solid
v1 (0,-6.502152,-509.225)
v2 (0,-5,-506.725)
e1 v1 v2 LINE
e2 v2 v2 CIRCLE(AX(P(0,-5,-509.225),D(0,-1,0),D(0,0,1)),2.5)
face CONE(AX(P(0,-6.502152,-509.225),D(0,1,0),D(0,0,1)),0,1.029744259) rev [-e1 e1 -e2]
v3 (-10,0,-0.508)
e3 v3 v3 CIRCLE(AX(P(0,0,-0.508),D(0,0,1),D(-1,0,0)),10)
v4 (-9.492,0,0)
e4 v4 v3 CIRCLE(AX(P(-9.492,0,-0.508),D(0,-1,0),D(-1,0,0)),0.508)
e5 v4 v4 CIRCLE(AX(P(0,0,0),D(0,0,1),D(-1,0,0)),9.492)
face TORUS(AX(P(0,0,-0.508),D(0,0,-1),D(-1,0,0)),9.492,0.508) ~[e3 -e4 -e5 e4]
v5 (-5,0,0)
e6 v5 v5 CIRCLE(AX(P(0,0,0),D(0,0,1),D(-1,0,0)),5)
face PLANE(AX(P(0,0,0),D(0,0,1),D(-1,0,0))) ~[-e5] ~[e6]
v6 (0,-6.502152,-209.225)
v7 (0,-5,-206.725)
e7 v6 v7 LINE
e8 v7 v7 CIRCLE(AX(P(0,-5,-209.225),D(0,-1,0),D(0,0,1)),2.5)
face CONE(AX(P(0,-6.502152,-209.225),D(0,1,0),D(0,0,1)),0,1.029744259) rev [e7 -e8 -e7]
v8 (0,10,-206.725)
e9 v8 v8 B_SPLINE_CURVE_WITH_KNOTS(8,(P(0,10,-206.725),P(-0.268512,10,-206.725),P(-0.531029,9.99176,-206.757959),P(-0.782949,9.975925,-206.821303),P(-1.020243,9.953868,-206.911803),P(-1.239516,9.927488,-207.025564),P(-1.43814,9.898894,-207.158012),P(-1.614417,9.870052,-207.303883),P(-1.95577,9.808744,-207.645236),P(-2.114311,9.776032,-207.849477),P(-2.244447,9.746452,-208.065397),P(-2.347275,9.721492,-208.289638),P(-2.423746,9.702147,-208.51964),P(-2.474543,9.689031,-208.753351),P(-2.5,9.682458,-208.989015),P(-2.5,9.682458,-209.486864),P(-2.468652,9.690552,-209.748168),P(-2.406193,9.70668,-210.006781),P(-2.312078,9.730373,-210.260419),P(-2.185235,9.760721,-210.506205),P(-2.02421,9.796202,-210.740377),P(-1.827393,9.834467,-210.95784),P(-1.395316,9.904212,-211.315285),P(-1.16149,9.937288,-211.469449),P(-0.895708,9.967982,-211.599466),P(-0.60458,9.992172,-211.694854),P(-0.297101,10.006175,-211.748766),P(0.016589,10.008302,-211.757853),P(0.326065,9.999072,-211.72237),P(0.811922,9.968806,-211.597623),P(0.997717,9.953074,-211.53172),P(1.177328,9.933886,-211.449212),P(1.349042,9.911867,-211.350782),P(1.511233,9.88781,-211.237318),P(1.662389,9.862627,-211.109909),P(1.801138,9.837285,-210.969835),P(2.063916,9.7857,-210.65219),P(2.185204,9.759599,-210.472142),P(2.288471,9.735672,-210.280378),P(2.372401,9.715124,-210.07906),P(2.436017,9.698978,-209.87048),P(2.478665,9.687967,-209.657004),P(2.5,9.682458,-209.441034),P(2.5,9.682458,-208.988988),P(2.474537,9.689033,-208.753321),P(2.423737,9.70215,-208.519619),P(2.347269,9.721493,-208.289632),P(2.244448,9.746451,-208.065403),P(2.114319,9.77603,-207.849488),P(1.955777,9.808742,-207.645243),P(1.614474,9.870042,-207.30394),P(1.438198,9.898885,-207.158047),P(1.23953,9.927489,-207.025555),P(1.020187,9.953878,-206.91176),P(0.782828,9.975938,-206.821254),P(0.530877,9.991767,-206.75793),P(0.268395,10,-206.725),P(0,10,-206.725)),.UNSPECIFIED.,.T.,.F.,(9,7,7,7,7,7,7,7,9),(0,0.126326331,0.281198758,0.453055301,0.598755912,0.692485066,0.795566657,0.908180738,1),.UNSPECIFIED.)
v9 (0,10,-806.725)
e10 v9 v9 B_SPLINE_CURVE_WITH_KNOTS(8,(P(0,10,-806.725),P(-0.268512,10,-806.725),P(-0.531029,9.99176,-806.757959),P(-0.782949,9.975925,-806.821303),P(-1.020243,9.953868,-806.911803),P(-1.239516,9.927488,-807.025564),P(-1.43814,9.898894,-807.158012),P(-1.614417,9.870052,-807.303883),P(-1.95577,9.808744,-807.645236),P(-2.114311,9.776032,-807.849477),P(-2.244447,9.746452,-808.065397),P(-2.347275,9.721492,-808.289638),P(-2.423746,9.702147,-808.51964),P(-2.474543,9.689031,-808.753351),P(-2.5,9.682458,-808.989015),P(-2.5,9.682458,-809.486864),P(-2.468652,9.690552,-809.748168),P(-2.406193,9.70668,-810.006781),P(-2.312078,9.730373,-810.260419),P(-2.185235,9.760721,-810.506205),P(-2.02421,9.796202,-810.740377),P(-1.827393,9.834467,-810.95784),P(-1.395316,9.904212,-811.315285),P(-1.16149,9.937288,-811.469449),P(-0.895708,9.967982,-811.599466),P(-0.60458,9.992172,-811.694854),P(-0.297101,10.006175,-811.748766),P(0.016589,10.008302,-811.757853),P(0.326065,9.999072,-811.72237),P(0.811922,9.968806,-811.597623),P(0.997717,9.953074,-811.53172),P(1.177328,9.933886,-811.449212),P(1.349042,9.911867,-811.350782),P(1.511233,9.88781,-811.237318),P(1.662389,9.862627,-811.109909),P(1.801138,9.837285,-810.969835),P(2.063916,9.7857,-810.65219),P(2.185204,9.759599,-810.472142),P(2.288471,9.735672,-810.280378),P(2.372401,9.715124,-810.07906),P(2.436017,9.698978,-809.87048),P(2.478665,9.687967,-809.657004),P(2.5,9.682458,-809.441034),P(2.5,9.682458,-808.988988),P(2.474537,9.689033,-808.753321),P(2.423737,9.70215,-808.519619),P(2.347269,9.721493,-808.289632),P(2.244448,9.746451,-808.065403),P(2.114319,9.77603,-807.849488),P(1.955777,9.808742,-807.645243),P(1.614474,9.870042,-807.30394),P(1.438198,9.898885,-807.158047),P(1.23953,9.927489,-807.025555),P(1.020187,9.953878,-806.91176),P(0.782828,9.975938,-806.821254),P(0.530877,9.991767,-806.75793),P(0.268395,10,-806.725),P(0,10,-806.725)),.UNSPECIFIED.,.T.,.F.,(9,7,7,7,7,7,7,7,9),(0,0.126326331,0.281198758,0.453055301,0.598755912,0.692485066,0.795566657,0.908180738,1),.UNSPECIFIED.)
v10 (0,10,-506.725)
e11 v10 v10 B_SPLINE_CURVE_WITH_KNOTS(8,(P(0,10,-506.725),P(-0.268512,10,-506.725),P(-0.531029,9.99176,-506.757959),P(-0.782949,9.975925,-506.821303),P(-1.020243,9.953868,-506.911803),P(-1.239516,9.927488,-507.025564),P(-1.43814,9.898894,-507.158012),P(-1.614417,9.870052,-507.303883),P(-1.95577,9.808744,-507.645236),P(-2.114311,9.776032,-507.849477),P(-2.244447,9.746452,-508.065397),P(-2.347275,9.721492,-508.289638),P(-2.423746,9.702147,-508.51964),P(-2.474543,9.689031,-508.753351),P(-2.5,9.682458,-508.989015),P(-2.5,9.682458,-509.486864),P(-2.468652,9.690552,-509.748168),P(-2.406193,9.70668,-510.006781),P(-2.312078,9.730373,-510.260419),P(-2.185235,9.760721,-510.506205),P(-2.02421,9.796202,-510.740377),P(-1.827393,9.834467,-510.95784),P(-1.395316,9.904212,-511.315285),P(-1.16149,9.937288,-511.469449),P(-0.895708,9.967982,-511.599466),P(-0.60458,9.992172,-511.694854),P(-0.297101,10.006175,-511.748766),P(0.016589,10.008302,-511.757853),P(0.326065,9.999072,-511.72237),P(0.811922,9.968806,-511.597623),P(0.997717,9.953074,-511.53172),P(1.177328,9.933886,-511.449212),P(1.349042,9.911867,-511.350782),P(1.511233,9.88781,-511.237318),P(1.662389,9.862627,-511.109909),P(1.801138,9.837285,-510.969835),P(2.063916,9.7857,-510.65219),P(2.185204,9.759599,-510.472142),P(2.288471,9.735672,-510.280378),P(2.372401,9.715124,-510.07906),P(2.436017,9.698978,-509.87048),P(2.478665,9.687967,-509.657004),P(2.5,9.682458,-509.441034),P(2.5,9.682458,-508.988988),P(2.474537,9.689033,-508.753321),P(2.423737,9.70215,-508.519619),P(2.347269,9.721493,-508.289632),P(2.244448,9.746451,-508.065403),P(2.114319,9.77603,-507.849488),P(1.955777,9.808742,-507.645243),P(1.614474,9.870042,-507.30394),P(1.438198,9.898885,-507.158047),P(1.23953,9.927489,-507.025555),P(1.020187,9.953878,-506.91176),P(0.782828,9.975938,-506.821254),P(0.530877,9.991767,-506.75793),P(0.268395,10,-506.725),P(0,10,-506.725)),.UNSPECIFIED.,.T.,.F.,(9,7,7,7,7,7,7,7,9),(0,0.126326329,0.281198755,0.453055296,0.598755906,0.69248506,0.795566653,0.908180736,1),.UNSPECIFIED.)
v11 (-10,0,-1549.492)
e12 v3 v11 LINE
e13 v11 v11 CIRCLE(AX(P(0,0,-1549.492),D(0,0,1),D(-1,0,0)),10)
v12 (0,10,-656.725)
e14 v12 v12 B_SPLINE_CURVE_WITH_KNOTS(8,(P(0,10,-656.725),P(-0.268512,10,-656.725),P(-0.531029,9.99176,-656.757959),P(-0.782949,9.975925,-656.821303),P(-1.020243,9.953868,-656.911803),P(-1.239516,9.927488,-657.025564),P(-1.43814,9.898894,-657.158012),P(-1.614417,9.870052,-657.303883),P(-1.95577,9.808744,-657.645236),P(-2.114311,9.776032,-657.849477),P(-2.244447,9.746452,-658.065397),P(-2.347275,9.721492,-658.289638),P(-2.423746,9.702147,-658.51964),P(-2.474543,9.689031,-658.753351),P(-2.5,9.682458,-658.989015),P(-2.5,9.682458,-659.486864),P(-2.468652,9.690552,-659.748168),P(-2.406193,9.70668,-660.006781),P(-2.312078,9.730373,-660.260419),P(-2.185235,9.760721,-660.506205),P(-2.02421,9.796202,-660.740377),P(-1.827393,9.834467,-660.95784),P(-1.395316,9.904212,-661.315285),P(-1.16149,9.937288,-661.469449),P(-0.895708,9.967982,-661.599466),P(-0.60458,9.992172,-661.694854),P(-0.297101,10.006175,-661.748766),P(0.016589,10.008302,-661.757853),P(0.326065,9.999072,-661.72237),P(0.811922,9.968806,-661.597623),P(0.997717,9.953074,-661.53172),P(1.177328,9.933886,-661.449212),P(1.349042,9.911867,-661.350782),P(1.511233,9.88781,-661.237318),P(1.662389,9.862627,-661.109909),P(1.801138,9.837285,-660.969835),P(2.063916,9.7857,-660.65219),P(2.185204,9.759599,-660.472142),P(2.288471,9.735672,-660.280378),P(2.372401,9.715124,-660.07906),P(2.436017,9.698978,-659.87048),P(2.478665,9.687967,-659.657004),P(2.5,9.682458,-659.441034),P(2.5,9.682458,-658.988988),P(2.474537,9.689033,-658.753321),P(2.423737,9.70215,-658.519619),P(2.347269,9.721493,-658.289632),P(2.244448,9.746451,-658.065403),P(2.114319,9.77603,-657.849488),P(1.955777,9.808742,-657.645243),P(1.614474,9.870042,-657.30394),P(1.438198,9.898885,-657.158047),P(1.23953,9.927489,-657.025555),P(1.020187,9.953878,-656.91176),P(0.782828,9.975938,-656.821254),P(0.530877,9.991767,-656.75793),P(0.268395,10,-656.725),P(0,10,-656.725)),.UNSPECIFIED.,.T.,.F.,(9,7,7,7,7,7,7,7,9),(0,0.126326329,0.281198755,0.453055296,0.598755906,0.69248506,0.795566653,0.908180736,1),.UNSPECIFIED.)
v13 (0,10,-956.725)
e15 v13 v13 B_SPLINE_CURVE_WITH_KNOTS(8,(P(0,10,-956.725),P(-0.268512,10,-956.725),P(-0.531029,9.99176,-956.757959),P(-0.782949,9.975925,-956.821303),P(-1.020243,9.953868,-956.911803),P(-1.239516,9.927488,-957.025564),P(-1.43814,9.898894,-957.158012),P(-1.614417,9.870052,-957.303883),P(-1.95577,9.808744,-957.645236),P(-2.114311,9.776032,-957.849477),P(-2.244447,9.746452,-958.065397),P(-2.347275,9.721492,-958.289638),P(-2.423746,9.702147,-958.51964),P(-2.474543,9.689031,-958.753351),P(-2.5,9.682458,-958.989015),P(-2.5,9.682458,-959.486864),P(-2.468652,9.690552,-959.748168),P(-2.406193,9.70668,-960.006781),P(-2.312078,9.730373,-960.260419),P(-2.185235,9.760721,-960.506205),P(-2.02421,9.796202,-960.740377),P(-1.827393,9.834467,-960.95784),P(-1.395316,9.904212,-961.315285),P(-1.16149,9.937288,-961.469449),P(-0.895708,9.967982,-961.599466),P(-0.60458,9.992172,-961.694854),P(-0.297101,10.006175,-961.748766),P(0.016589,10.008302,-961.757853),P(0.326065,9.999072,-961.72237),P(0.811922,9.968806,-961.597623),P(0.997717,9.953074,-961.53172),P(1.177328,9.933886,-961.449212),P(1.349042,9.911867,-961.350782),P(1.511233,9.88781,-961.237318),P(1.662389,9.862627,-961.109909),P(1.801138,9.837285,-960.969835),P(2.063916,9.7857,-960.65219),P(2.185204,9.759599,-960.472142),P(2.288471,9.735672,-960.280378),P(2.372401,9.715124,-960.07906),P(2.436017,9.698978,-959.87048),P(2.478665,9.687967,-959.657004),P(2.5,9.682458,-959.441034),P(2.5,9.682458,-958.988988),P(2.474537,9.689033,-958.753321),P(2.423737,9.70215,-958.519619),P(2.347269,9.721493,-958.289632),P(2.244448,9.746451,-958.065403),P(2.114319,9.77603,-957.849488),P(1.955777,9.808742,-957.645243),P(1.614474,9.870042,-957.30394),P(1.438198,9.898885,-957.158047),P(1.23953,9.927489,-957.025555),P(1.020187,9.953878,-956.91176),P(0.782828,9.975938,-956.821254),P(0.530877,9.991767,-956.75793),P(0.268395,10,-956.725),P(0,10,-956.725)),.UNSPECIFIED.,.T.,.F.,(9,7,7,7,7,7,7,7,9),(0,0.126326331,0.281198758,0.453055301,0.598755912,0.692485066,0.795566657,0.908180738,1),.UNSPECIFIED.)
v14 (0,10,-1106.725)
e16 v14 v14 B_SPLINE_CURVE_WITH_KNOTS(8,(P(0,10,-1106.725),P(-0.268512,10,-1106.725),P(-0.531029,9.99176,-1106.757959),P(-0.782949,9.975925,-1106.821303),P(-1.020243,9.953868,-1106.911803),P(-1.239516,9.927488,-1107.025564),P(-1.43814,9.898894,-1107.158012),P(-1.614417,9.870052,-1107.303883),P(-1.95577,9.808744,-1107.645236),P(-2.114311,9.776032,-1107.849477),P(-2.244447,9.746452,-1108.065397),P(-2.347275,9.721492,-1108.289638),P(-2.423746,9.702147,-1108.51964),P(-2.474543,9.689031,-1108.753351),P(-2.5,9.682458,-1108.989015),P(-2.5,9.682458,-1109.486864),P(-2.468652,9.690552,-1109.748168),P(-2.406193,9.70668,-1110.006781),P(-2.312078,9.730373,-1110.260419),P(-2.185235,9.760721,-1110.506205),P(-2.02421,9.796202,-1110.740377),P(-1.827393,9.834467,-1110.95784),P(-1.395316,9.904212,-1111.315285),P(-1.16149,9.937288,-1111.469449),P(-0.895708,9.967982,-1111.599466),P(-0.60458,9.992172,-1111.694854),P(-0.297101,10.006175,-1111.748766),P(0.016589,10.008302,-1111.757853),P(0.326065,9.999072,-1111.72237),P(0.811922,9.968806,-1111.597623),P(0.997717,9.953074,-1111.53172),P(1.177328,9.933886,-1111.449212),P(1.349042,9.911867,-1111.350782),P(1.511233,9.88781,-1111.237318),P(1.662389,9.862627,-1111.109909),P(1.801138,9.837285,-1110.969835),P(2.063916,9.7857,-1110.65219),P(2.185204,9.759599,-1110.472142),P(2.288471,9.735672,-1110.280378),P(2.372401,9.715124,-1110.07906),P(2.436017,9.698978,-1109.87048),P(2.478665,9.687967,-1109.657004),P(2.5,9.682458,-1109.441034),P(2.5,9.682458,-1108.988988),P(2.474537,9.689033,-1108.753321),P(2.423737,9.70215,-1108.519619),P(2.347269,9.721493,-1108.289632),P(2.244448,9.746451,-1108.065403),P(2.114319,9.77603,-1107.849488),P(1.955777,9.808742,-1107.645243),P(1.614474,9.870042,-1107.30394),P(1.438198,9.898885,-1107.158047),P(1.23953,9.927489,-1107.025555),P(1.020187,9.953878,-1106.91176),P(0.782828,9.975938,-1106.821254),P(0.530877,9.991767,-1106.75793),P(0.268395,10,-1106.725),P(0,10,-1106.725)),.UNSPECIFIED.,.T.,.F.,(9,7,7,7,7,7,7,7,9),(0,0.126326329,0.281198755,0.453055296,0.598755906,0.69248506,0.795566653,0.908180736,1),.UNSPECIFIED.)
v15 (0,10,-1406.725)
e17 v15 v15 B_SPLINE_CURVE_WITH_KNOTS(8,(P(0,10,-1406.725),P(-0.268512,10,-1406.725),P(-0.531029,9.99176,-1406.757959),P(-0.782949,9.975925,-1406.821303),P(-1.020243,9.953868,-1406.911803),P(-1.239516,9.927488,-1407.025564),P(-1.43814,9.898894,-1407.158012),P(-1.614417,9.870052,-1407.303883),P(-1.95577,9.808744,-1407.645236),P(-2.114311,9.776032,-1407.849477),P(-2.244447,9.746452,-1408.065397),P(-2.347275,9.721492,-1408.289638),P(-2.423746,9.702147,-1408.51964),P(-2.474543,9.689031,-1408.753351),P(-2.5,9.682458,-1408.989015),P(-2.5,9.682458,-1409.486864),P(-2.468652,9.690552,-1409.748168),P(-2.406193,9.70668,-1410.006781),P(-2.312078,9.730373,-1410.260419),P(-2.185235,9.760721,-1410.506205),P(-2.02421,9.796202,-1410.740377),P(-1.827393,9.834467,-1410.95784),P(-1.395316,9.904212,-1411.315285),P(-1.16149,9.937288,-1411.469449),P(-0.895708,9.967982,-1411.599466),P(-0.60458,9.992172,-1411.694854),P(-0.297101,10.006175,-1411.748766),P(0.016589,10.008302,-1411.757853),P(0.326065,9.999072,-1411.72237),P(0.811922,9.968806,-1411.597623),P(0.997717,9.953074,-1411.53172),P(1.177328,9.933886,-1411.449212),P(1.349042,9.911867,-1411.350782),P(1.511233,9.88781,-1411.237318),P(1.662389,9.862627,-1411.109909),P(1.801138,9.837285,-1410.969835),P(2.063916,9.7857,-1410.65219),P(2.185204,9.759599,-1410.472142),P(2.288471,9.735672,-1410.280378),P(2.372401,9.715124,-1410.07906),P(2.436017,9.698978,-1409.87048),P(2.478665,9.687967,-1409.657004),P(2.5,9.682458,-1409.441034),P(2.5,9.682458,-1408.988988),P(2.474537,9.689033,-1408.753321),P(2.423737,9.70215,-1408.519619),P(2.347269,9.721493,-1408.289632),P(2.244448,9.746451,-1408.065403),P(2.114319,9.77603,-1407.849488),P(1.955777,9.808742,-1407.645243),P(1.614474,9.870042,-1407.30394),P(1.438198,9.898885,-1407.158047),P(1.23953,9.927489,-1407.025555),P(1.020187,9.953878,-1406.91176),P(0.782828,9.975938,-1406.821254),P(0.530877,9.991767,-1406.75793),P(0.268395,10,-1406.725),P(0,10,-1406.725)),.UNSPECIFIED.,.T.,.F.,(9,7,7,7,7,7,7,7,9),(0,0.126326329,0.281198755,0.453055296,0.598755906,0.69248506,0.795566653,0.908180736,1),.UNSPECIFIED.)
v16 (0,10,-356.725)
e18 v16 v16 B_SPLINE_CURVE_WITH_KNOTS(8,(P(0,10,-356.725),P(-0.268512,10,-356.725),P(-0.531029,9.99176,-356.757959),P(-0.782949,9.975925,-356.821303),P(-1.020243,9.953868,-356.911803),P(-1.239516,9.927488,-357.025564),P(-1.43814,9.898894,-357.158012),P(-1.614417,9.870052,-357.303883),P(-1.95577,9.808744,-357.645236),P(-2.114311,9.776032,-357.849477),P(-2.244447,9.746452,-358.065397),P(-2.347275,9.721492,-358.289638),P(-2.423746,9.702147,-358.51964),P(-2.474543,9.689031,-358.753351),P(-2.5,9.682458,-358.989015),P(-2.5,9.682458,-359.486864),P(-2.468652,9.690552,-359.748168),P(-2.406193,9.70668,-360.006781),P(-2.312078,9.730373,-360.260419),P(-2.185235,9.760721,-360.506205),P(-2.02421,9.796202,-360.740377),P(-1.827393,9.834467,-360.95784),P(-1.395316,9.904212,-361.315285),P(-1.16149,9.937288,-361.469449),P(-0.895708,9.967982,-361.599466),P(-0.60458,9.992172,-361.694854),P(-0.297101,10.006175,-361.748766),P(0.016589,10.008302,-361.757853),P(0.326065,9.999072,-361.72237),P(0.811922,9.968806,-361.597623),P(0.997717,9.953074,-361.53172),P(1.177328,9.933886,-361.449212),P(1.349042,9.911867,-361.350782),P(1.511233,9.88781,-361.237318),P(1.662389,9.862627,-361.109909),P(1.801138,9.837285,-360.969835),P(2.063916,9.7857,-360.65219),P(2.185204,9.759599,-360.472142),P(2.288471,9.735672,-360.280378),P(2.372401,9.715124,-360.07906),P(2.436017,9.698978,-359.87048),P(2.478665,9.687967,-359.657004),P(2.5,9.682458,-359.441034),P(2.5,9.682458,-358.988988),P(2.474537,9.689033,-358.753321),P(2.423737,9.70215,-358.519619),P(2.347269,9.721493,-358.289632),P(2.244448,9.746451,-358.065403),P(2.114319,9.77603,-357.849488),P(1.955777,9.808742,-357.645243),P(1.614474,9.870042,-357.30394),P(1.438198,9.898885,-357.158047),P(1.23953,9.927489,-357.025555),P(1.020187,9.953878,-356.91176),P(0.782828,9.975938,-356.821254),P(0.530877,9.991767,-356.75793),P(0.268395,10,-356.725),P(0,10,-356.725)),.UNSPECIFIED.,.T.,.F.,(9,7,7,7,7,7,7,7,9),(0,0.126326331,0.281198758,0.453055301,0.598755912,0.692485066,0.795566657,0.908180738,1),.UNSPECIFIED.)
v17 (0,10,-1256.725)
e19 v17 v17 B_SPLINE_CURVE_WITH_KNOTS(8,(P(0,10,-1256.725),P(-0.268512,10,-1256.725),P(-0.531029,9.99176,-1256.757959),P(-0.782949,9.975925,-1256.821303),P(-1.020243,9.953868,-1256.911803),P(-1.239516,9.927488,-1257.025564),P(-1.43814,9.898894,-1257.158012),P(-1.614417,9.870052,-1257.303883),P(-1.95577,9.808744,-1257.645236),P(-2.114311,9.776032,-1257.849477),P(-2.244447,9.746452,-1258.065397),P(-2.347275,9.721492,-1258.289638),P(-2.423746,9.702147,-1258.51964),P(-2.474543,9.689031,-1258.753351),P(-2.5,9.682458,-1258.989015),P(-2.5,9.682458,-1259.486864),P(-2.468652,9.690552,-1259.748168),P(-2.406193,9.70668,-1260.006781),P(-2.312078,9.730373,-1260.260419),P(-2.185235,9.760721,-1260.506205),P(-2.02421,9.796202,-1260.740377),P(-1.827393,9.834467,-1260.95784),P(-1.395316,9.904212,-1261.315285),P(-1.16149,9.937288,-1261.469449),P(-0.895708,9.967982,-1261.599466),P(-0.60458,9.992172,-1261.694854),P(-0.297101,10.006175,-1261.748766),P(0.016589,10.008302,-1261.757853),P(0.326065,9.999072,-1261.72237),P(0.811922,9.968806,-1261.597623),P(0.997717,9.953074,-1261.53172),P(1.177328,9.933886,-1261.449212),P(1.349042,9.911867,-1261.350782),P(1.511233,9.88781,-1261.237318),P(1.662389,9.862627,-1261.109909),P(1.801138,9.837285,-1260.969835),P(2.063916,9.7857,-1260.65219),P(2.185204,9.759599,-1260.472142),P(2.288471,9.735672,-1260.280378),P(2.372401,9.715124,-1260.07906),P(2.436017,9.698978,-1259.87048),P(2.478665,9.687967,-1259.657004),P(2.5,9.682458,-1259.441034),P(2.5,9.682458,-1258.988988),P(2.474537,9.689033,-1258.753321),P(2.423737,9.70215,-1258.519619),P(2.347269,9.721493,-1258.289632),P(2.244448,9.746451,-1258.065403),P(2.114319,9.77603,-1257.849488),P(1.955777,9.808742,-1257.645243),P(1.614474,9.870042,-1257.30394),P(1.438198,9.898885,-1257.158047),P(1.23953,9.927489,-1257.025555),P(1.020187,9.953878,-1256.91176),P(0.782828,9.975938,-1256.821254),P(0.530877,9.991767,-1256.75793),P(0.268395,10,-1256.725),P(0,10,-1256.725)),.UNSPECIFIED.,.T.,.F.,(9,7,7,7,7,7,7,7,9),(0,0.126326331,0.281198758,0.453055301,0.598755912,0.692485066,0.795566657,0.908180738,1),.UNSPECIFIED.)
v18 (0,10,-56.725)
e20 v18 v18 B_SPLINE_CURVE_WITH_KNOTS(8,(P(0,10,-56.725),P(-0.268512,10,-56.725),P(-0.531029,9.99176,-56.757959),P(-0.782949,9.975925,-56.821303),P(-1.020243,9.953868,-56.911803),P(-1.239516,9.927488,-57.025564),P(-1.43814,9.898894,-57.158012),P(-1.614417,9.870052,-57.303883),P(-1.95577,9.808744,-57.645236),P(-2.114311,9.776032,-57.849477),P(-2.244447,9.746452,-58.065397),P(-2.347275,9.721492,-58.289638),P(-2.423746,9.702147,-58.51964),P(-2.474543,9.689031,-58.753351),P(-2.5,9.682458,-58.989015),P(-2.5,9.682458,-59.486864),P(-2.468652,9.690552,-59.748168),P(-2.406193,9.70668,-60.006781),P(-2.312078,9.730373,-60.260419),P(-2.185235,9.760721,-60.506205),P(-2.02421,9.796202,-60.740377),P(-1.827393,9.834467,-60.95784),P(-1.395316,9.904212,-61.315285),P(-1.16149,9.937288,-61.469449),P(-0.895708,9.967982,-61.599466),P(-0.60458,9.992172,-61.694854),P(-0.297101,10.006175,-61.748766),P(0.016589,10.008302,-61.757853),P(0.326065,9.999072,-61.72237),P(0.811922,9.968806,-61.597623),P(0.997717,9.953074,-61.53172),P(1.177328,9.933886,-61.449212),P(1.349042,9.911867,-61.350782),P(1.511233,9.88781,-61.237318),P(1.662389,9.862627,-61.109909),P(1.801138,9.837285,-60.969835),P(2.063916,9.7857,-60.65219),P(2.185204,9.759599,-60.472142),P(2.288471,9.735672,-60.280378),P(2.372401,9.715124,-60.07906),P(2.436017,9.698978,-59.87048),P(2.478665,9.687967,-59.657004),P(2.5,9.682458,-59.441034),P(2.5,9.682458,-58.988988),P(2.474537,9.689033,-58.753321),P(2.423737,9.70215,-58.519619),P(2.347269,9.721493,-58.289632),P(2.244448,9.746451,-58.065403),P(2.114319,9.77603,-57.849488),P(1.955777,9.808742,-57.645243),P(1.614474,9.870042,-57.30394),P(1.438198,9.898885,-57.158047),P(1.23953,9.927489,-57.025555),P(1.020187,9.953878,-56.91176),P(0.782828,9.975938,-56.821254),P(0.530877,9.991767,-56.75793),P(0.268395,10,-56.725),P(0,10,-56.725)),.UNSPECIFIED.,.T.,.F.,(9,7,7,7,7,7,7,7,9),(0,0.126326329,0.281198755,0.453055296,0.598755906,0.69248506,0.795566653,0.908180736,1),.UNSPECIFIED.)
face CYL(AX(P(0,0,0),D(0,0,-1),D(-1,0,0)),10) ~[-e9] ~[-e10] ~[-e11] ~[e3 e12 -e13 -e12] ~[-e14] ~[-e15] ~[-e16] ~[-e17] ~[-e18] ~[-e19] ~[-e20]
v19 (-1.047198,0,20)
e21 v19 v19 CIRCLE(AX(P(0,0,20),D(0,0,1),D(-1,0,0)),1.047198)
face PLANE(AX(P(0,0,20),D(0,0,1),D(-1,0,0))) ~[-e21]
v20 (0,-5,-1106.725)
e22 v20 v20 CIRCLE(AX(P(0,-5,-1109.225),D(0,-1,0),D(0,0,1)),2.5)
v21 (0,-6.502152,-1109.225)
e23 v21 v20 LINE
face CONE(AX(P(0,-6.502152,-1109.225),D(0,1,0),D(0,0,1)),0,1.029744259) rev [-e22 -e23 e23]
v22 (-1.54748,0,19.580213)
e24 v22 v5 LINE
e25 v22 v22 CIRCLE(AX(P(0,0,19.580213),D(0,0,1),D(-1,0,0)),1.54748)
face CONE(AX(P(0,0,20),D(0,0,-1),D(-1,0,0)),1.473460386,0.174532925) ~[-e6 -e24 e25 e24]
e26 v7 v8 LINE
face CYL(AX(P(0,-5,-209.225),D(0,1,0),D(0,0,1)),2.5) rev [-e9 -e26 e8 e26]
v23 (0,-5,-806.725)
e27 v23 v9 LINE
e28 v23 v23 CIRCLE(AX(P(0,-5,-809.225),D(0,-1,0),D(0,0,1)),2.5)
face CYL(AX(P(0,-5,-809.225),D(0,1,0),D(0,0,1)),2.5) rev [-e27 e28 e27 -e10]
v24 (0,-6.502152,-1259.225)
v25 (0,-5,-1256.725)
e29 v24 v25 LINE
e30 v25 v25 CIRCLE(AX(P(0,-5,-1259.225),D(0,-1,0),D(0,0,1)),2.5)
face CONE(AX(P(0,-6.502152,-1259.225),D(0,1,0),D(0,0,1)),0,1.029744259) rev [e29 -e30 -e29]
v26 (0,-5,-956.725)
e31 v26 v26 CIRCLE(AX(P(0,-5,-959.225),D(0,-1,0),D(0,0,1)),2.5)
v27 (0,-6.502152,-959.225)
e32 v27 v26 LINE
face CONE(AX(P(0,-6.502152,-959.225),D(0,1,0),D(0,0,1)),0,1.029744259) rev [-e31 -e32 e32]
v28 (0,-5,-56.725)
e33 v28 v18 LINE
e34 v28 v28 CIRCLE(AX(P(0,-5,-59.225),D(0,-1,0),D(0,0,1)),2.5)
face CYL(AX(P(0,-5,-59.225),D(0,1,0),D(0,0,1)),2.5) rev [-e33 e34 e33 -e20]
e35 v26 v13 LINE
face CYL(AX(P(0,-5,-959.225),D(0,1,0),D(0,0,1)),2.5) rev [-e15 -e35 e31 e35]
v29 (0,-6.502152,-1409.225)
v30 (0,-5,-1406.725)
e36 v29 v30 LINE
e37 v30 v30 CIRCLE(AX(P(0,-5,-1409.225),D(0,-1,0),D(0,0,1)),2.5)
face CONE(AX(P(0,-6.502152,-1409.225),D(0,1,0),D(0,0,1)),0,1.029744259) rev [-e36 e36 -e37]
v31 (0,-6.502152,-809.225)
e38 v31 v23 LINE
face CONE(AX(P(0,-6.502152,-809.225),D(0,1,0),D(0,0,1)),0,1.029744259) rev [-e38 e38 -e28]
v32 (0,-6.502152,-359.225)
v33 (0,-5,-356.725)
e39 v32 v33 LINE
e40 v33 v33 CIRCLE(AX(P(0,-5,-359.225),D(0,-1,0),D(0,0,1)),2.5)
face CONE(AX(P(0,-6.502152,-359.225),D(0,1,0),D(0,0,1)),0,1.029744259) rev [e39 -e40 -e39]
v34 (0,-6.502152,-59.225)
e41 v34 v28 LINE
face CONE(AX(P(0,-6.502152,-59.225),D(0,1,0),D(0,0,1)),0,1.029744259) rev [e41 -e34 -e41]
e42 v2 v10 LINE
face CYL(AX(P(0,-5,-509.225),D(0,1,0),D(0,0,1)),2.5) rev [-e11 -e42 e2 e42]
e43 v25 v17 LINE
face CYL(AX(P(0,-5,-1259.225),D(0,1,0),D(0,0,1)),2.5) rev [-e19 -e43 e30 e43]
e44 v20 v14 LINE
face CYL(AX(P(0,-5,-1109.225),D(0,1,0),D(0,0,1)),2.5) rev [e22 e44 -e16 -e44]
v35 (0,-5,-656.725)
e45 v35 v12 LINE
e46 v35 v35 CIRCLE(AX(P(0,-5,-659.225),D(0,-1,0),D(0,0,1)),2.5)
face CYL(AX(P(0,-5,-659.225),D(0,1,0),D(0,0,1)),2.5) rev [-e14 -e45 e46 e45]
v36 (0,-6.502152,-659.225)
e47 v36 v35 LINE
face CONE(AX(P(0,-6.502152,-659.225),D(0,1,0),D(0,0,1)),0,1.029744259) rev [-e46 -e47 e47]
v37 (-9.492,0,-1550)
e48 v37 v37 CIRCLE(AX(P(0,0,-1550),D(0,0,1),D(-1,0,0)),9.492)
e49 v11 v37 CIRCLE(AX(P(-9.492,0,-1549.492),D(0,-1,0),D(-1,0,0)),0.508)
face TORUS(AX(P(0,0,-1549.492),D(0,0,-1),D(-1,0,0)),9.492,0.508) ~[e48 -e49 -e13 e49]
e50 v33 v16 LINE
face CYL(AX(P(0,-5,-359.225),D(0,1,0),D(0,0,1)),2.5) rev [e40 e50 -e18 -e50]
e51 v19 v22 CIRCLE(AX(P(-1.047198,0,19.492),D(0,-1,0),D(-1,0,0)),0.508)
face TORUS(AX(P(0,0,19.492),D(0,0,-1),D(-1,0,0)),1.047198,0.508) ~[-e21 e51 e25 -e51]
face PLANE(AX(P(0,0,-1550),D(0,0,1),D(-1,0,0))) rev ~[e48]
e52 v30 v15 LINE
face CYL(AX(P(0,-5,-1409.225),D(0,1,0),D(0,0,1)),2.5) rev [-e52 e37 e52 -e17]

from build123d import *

# Parameters (mm, degrees)
FILLET1_R           = 0.508
LPATTERN1_COUNT     = 8
LPATTERN1_PITCH     = 150
LPATTERN1_COL_COUNT = 3
LPATTERN1_COL_PITCH = 150


with BuildPart() as part:
    # Sketch1 → Revolve1 (revolve)
    with BuildSketch(Plane(origin=(0, 0, 0), x_dir=(1, 0, 0), z_dir=(0, 1, 0)), mode=Mode.PRIVATE) as revolve1_sk:
        Polygon((0, 1550), (0, -20), (1.473460386, -20), (5, 0), (10, 0), (10, 1550), align=None)
    revolve(revolve1_sk.sketch.rotate(Axis((0, 0, -1550), (0, 0, 1)), 180), axis=Axis((0, 0, -1550), (0, 0, 1)))  # turned: the seam where the file's is

    # Fillet1
    fillet1_edges = [part.edges().sort_by_distance(p)[0] for p in [
        (10, 0, -1550),
        (10, 0, 0),
        (1.473460386, 0, 20),
    ]]
    fillet(fillet1_edges, radius=FILLET1_R)

    # Sketch3 → M6x1.0 Tapped Hole1 (revolve, cut)
    with BuildSketch(Plane(origin=(0, 10, -1109.22499992), x_dir=(0, 0, 1), z_dir=(1, 0, 0))):
        Polygon((0, 0), (0, 16.502151548), (2.5, 15), (2.5, 0), align=None)
    m6x1_0_tapped_hole1 = revolve(axis=Axis((0, 16.35, -1109.22499992), (0, -1, 0)), mode=Mode.SUBTRACT)

    # LPattern1: M6x1.0 Tapped Hole1 ×8
    with Locations(*[(0, 0, i * LPATTERN1_PITCH) for i in range(1, LPATTERN1_COUNT)]):
        add(m6x1_0_tapped_hole1, mode=Mode.SUBTRACT)

    # LPattern1 col: M6x1.0 Tapped Hole1 ×3
    with Locations(*[(0, 0, -i * LPATTERN1_COL_PITCH) for i in range(1, LPATTERN1_COL_COUNT)]):
        add(m6x1_0_tapped_hole1, mode=Mode.SUBTRACT)


solid = part.part
